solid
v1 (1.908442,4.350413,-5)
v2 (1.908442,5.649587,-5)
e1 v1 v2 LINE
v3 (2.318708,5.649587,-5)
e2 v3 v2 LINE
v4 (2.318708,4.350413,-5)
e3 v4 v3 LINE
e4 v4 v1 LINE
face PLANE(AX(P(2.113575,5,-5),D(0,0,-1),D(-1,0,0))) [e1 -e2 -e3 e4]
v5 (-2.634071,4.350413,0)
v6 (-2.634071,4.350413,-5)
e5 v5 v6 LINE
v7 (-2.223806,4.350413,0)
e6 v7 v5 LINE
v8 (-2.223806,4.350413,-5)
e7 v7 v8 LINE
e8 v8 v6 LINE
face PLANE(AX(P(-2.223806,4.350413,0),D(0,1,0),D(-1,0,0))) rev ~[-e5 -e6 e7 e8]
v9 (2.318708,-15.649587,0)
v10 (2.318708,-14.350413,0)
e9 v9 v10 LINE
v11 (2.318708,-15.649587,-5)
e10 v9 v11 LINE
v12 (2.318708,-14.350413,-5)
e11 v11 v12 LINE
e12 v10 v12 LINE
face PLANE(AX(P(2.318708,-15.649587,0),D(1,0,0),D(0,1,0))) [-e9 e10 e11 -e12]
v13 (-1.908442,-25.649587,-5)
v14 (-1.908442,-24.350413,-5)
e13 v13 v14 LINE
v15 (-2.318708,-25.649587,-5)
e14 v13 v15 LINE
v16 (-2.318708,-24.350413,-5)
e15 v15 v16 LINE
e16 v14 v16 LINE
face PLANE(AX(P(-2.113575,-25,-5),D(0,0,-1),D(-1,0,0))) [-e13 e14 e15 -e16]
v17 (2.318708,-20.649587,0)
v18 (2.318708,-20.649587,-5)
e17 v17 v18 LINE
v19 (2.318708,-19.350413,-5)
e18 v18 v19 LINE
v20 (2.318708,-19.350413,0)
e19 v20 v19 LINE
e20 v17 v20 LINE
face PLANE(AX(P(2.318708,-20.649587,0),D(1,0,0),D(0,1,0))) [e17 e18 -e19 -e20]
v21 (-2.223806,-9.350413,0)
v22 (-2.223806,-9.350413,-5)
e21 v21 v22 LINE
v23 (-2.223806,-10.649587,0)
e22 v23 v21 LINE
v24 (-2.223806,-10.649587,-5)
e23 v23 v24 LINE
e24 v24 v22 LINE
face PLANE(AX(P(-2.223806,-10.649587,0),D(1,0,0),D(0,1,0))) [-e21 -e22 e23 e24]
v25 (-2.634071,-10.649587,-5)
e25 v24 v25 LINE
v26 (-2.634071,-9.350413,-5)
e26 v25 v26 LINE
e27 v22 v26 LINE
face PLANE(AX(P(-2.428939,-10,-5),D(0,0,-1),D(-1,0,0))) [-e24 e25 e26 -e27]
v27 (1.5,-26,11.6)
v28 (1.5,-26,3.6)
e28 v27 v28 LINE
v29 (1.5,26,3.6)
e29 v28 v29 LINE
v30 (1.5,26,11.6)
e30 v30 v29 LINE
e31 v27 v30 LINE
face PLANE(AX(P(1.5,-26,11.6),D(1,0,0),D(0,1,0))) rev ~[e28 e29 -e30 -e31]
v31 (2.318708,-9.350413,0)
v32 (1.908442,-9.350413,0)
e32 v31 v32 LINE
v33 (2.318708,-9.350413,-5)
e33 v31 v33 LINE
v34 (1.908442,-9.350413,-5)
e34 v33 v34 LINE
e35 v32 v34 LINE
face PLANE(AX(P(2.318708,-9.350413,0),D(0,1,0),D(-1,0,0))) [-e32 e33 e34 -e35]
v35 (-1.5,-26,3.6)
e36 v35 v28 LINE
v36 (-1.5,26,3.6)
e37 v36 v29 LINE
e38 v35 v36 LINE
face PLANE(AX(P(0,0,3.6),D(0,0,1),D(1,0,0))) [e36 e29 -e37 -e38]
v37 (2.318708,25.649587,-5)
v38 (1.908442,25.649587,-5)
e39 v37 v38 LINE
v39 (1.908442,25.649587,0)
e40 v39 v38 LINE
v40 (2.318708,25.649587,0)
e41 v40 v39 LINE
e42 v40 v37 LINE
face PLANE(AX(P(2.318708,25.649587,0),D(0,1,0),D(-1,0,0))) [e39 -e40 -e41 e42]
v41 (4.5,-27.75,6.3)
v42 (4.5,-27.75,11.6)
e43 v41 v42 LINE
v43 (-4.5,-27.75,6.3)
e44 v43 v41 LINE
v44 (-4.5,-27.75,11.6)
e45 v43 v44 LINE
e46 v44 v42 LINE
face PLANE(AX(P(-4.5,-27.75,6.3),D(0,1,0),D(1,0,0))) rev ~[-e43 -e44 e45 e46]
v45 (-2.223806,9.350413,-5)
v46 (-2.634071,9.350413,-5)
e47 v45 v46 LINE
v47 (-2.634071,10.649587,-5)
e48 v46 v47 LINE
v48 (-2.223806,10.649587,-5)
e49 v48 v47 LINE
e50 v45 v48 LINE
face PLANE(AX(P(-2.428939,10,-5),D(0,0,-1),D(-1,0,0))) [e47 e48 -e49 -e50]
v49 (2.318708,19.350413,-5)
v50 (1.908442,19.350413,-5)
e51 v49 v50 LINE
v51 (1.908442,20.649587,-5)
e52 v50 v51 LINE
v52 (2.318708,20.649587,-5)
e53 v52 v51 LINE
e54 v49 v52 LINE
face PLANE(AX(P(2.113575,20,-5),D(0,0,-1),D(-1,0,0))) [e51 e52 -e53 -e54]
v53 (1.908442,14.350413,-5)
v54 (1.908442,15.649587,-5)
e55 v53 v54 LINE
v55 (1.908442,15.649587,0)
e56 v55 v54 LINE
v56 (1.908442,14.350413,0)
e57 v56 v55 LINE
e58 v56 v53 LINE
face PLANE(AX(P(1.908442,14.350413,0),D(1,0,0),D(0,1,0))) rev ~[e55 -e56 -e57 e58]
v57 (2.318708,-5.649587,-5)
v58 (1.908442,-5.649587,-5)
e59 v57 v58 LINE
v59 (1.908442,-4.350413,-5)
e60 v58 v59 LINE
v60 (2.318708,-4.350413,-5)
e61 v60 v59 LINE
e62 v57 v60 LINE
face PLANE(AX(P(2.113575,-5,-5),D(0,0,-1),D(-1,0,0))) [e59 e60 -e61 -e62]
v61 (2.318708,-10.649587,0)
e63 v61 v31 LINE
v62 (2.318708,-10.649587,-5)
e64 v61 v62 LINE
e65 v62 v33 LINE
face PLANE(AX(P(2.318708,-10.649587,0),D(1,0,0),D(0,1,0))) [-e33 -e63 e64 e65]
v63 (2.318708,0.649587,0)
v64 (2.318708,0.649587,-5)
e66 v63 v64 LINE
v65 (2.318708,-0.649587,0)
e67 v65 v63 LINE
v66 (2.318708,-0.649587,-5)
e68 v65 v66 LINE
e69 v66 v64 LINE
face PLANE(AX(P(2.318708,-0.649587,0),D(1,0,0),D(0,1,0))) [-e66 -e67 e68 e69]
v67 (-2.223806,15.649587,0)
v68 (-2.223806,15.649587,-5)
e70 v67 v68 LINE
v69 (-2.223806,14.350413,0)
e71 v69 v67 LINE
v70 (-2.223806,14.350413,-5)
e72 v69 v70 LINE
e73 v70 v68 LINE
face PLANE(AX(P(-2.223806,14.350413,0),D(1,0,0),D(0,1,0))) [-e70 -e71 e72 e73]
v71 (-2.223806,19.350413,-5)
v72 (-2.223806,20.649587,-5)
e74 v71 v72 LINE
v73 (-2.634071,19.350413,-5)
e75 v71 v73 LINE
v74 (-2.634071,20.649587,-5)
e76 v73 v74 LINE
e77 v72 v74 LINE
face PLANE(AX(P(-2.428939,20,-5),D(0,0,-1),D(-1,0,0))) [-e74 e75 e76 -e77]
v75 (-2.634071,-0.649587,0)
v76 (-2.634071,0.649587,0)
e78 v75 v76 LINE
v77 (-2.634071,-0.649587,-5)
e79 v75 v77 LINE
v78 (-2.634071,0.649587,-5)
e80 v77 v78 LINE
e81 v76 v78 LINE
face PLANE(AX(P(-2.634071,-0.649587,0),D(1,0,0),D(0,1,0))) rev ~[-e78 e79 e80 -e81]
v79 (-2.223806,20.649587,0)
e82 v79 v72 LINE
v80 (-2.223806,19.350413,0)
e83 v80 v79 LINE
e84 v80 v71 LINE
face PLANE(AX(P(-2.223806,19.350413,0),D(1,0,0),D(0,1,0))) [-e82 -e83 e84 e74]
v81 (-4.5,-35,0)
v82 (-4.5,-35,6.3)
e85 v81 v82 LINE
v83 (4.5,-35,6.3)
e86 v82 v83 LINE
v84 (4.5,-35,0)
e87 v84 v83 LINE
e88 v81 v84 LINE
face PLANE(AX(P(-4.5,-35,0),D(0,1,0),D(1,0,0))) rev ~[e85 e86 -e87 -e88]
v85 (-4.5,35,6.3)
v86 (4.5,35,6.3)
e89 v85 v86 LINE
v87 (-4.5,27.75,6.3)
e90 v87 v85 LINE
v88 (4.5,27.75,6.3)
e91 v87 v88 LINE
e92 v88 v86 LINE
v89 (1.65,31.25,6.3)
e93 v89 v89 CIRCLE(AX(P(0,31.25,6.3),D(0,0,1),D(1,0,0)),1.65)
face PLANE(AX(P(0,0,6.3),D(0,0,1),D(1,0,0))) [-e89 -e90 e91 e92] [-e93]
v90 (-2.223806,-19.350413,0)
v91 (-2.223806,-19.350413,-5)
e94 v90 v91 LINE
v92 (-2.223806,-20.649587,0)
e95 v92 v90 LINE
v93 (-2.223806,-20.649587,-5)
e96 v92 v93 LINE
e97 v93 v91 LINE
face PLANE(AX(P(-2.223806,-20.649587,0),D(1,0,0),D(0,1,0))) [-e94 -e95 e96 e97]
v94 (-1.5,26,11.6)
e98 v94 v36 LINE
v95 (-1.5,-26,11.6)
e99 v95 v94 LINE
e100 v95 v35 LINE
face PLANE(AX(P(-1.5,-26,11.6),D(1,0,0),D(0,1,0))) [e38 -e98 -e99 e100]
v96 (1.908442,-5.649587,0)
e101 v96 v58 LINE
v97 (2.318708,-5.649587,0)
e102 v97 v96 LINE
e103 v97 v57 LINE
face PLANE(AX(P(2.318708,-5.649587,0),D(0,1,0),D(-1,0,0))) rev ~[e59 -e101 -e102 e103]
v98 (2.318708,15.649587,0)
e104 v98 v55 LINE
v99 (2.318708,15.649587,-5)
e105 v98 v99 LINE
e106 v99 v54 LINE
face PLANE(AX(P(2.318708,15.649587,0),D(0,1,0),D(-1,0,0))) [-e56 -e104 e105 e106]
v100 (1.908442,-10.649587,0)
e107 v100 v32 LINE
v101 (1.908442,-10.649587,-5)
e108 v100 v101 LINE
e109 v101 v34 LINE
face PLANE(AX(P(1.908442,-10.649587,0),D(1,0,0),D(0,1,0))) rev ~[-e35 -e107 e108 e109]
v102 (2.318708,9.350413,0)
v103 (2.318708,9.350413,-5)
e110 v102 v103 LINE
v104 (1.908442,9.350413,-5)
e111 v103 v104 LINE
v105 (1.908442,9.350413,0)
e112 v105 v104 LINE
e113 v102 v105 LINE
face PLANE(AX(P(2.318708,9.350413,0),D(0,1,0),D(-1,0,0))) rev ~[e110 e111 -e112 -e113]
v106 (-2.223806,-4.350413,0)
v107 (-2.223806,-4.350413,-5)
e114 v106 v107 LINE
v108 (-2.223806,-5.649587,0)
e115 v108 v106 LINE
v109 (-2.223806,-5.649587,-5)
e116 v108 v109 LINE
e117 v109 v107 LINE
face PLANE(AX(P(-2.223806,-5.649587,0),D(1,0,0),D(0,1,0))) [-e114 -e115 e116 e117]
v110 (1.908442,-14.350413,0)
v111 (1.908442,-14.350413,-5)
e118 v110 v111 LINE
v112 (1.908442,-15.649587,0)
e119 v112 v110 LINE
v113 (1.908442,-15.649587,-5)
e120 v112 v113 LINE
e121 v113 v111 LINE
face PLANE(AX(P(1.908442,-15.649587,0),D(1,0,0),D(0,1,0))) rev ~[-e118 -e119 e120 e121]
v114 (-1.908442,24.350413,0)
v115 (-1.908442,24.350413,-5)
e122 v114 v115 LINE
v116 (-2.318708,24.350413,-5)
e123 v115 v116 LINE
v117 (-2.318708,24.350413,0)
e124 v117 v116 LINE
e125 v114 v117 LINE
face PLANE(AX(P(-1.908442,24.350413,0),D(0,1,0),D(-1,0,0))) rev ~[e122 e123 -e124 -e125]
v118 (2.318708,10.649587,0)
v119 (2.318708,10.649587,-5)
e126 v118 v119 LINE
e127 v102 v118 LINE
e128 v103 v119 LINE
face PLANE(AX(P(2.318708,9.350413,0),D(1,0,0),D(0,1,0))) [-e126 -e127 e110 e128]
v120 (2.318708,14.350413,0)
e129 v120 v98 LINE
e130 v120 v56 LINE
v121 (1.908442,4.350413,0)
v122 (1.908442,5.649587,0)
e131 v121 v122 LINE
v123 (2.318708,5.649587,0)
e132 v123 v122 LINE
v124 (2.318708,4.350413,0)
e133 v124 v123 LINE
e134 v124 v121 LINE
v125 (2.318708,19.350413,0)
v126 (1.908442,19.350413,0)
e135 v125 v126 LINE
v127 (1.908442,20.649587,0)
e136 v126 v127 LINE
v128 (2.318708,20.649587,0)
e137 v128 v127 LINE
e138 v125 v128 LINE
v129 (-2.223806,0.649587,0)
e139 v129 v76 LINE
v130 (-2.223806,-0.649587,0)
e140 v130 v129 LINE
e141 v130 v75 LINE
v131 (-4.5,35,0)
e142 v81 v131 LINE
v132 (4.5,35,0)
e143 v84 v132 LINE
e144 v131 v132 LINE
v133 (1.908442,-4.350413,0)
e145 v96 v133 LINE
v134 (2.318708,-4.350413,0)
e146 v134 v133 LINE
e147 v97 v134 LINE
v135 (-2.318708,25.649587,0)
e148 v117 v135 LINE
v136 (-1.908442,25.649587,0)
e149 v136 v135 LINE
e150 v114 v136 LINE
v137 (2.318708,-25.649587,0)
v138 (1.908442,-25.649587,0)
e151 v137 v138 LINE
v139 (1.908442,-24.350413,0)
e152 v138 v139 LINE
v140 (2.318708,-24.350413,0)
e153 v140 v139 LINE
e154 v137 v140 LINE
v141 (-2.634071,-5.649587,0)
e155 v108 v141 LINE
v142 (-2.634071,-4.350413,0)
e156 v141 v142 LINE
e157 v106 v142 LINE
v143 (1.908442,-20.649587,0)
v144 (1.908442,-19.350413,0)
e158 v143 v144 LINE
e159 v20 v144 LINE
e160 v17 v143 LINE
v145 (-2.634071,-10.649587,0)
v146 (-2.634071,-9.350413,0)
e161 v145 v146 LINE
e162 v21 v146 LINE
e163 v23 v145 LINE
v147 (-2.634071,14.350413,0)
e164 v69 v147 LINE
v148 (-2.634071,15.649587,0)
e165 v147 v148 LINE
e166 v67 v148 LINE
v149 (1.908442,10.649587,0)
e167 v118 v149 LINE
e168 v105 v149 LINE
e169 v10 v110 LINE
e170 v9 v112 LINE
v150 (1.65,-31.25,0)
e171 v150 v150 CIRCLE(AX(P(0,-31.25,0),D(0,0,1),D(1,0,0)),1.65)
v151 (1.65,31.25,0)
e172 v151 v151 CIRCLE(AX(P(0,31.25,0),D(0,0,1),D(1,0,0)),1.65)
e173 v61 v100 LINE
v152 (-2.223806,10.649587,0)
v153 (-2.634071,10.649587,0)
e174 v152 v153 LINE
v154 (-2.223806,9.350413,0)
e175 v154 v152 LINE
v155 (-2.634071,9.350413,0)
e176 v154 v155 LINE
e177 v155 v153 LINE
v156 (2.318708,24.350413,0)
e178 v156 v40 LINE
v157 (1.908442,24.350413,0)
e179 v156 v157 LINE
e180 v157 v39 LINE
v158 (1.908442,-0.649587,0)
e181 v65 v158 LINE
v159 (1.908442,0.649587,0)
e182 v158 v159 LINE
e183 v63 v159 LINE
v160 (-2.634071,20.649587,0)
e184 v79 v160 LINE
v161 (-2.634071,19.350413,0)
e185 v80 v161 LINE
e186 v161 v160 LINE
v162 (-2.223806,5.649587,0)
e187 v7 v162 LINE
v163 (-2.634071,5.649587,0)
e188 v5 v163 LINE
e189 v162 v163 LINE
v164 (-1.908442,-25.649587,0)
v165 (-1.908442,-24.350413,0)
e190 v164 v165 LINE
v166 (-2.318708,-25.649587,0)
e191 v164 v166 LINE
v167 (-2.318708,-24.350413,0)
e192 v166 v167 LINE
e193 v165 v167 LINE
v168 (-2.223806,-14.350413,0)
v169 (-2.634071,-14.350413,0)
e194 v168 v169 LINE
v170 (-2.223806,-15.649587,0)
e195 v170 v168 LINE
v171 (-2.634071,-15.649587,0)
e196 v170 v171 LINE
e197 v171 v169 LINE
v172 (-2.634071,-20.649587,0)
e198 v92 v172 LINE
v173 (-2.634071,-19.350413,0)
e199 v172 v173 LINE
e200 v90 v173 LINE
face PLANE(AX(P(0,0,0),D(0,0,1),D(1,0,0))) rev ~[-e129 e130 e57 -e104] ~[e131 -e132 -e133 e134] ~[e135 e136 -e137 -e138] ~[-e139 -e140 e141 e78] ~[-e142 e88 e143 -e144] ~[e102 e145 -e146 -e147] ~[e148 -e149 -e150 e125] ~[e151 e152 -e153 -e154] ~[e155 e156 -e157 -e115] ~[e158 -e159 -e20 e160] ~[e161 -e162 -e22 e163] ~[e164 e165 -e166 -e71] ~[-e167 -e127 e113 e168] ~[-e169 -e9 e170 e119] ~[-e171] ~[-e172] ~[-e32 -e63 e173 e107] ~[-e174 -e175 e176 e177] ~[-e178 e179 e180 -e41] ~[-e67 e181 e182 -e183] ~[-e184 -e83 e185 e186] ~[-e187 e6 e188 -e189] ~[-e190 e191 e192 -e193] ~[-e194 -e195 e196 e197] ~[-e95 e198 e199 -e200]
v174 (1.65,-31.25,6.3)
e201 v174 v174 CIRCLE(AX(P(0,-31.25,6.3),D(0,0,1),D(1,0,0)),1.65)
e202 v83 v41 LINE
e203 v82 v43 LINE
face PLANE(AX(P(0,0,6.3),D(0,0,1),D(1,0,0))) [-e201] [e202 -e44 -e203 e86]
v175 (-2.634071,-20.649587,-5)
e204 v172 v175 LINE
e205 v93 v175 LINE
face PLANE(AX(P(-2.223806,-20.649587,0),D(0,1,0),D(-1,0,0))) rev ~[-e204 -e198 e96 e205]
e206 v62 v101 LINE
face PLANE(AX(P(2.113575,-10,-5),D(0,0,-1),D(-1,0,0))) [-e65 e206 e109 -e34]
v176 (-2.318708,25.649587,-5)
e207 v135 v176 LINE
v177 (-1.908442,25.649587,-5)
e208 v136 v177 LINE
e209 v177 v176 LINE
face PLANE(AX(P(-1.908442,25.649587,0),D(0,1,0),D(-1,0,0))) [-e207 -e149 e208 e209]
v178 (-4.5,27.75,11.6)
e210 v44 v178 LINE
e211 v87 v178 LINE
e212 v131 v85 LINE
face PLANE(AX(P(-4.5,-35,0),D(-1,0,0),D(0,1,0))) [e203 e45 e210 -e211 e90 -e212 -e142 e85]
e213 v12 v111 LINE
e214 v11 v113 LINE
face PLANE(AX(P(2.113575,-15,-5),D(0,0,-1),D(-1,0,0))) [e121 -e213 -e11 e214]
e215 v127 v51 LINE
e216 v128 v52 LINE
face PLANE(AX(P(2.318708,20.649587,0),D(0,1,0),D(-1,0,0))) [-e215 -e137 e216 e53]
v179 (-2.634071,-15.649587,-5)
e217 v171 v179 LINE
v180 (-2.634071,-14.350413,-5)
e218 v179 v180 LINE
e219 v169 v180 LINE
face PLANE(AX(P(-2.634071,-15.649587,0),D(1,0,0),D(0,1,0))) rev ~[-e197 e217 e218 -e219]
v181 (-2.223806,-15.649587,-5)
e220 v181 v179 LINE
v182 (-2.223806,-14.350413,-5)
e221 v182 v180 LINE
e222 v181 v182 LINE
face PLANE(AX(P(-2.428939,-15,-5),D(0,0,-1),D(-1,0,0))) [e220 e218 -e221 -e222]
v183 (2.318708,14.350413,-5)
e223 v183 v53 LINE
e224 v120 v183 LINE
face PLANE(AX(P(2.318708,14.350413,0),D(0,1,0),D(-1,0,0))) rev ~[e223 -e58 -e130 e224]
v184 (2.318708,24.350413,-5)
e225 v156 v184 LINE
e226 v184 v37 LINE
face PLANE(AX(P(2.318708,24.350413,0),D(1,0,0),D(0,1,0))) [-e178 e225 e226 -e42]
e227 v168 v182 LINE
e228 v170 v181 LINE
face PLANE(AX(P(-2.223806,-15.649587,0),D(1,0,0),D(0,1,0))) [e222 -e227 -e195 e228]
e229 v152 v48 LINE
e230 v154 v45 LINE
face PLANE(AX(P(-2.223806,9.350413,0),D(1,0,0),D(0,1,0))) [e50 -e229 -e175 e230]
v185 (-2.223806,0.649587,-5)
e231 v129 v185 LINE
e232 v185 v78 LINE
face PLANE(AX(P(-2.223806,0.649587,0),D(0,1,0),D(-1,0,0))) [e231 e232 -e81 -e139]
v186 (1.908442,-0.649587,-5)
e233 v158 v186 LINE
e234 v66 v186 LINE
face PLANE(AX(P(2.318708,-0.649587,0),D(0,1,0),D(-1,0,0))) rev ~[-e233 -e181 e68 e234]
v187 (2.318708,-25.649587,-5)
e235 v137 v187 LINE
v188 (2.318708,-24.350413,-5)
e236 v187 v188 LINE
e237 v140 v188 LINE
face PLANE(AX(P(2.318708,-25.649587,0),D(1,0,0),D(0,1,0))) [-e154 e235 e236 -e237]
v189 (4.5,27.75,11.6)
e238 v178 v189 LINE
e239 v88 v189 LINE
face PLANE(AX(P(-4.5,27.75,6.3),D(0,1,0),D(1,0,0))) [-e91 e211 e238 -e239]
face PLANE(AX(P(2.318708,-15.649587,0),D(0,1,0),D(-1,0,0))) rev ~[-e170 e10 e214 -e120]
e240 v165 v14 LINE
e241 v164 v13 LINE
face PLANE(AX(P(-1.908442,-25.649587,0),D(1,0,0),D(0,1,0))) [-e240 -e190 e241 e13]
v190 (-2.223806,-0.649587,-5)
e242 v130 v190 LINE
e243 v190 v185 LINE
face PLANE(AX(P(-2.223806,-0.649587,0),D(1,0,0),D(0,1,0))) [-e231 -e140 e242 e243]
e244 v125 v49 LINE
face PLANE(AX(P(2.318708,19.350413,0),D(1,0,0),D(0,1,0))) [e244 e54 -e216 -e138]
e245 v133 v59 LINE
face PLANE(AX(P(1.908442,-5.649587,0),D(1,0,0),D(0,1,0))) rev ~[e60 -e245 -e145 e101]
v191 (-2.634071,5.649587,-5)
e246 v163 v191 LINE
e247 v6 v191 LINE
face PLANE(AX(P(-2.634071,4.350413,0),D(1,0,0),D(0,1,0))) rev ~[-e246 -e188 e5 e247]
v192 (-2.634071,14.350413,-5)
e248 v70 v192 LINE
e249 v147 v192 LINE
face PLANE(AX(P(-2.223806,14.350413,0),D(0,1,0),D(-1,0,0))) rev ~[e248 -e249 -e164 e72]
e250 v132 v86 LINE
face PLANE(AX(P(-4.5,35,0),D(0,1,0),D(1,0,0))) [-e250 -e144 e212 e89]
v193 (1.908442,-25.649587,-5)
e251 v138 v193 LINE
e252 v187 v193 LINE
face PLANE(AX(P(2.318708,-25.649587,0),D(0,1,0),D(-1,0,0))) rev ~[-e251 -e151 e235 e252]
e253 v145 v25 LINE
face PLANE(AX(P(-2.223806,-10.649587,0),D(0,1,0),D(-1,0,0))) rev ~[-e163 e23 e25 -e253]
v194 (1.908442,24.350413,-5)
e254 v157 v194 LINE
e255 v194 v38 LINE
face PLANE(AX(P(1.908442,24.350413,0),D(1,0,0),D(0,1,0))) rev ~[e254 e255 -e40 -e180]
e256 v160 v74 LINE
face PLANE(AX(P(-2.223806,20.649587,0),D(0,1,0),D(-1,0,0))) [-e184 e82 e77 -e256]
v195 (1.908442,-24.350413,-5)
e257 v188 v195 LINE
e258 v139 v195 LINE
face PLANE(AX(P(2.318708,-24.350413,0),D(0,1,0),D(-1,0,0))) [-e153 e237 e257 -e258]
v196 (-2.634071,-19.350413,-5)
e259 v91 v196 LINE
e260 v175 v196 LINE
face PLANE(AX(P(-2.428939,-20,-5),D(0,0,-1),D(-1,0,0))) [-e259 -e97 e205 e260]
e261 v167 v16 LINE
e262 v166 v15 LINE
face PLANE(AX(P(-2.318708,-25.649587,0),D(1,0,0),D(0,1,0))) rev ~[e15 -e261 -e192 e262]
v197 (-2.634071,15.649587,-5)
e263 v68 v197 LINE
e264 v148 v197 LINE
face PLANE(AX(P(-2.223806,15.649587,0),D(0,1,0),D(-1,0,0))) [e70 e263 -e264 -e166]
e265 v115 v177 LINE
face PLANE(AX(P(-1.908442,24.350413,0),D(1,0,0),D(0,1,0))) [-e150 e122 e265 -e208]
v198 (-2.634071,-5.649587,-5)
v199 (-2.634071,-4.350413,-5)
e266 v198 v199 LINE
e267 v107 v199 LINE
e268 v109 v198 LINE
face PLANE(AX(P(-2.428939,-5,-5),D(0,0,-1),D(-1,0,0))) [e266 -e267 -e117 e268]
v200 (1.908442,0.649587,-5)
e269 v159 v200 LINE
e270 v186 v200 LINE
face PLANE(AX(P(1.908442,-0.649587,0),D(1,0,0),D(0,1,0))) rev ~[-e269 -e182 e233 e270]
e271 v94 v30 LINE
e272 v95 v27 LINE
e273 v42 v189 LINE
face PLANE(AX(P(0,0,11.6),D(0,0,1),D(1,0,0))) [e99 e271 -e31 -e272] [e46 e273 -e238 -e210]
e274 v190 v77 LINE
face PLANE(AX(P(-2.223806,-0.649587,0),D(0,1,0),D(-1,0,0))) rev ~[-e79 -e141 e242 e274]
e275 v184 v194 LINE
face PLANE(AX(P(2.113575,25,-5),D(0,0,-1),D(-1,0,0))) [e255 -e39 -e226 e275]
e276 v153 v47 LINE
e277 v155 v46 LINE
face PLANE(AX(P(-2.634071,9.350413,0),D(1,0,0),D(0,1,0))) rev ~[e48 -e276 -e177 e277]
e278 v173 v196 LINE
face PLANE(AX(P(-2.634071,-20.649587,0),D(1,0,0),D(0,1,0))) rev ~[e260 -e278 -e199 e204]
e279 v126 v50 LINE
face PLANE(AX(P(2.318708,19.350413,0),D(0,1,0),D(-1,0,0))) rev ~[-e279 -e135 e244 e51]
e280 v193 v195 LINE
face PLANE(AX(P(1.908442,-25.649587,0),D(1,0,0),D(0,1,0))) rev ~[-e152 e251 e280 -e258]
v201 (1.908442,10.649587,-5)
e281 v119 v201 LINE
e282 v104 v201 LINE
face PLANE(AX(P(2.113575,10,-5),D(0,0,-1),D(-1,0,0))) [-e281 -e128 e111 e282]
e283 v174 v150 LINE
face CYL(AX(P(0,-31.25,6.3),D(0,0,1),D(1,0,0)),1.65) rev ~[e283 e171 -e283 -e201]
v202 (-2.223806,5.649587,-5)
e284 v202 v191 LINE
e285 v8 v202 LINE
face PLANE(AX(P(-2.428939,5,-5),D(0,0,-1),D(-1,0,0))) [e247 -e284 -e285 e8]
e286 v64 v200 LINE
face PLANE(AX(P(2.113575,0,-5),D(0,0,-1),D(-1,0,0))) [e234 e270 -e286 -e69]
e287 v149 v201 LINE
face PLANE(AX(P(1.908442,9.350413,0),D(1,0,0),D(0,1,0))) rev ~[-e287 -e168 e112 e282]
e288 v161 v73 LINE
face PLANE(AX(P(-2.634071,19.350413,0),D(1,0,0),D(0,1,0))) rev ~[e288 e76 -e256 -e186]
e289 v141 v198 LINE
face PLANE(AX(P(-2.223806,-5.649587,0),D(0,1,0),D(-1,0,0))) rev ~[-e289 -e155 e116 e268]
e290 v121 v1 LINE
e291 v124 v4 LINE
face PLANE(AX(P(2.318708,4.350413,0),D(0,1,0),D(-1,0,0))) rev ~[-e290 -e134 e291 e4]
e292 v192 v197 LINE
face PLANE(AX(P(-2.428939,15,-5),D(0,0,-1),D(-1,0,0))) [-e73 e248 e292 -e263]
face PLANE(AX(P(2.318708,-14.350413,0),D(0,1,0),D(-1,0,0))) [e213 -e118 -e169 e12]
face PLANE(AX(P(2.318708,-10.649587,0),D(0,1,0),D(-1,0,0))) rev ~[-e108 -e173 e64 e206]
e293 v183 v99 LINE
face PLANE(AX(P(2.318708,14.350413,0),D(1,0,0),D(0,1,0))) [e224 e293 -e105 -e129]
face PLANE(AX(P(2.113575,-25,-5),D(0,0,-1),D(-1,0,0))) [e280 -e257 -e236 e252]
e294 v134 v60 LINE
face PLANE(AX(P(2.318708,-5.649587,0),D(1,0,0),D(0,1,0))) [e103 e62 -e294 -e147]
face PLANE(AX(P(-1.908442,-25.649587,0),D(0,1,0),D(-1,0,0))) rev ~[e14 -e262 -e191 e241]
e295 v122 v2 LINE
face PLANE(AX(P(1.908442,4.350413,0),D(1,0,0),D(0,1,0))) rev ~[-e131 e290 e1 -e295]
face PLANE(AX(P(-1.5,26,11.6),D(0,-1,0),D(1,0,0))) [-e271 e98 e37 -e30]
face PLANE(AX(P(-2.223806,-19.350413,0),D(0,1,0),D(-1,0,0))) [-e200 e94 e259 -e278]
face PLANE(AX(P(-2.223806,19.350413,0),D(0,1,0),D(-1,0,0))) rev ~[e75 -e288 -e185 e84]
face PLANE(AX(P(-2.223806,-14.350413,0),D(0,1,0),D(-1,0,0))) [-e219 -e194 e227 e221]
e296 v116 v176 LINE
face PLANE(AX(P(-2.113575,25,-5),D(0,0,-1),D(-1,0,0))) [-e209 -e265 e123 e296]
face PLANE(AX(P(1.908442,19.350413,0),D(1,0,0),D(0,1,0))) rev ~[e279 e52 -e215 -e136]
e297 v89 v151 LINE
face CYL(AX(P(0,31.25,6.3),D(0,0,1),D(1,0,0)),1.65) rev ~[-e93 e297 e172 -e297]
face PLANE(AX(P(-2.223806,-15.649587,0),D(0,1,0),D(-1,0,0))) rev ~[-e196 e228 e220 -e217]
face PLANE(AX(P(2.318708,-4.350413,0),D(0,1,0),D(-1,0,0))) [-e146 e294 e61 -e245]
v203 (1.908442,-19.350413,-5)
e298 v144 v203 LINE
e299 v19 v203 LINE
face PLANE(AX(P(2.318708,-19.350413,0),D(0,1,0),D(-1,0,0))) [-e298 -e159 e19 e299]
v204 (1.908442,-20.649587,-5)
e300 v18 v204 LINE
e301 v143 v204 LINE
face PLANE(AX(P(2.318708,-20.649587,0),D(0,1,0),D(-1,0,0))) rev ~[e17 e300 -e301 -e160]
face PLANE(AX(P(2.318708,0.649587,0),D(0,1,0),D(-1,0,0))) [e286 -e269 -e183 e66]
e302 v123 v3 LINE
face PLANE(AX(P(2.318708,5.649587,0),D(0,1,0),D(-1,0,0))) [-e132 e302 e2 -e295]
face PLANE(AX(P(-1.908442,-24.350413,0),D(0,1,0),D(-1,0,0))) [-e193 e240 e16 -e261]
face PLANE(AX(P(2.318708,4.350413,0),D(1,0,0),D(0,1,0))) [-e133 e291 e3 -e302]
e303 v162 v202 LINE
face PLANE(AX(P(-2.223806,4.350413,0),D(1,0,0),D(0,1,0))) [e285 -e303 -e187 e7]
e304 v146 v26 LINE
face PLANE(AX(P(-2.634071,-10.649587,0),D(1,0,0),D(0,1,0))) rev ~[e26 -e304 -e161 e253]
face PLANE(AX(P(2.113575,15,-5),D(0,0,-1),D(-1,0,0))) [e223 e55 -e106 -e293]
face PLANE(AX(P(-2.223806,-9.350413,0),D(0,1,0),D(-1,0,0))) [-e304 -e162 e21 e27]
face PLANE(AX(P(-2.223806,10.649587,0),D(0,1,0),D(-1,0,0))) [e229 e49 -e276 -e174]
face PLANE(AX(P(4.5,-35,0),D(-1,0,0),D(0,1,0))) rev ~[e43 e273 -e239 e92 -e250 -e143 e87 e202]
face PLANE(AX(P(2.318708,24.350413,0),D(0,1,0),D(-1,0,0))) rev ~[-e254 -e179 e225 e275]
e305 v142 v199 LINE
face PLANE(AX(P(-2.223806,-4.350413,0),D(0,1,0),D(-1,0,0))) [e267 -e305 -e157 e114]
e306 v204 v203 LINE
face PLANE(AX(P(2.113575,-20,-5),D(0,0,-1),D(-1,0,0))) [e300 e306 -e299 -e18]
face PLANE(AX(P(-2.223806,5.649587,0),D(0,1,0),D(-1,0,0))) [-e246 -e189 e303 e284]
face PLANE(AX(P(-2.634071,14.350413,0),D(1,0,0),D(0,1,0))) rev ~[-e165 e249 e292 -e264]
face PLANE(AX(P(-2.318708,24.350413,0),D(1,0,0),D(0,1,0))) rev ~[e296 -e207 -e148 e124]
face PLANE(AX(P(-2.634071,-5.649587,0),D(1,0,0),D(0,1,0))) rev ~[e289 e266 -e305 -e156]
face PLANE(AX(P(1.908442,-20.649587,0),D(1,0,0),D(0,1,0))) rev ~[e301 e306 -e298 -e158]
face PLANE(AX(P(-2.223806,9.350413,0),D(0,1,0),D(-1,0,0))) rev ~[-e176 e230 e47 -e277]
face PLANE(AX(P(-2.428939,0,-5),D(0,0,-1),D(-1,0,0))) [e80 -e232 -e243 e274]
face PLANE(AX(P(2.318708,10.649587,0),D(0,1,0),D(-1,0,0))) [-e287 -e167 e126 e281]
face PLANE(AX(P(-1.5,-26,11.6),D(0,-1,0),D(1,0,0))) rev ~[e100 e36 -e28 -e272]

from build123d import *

# Parameters (mm, degrees)
SKETCH_1_W          = 9
SKETCH_1_H          = 70
EXTRUDE_1_DEPTH     = 6.3
SKETCH_2_W          = 9
SKETCH_2_H          = 55.5
EXTRUDE_2_DEPTH     = 5.3
SKETCH_3_R          = 1.65
CUT_EXTRUDE_1_DEPTH = 15.3
SKETCH_4_W          = 0.410265385
SKETCH_4_H          = 1.299173718
EXTRUDE_3_DEPTH     = 5
SKETCH_5_W          = 3
SKETCH_5_H          = 52
CUT_EXTRUDE_2_DEPTH = 8


with BuildPart() as part:
    # 草图1 → 拉伸1 (new body)
    with BuildSketch(Plane.XY):
        Rectangle(SKETCH_1_W, SKETCH_1_H)
    extrude(amount=EXTRUDE_1_DEPTH)

    # 草图2 → 拉伸2 (add)
    with BuildSketch(Plane.XY.offset(6.3)):
        Rectangle(SKETCH_2_W, SKETCH_2_H)
    extrude(amount=EXTRUDE_2_DEPTH)

    # 草图3 → 切除-拉伸1 (cut)
    with BuildSketch(Plane.XY.offset(6.3)):
        with Locations((0, 31.25)):
            Circle(SKETCH_3_R)
        with Locations((0, -31.25)):
            Circle(SKETCH_3_R)
    extrude(amount=-CUT_EXTRUDE_1_DEPTH, mode=Mode.SUBTRACT)

    # 草图4 → 拉伸3 (add)
    with BuildSketch(Plane(origin=(0, 0, 0), x_dir=(-1, 0, 0), z_dir=(0, 0, -1))):
        with Locations((2.113574837, 25)):
            Rectangle(SKETCH_4_W, SKETCH_4_H)
        with Locations((-2.113574837, 25)):
            Rectangle(SKETCH_4_W, SKETCH_4_H)
        with Locations((2.428938656, 20)):
            Rectangle(SKETCH_4_W, SKETCH_4_H)
        with Locations((-2.113574837, 20)):
            Rectangle(SKETCH_4_W, SKETCH_4_H)
        with Locations((2.428938656, 15)):
            Rectangle(SKETCH_4_W, SKETCH_4_H)
        with Locations((-2.113574837, 15)):
            Rectangle(SKETCH_4_W, SKETCH_4_H)
        with Locations((2.428938656, 10)):
            Rectangle(SKETCH_4_W, SKETCH_4_H)
        with Locations((-2.113574837, 10)):
            Rectangle(SKETCH_4_W, SKETCH_4_H)
        with Locations((2.428938656, 5)):
            Rectangle(SKETCH_4_W, SKETCH_4_H)
        with Locations((-2.113574837, 5)):
            Rectangle(SKETCH_4_W, SKETCH_4_H)
        with Locations((2.428938656, 0)):
            Rectangle(SKETCH_4_W, SKETCH_4_H)
        with Locations((-2.113574837, 0)):
            Rectangle(SKETCH_4_W, SKETCH_4_H)
        with Locations((-2.113574837, -5)):
            Rectangle(SKETCH_4_W, SKETCH_4_H)
        with Locations((2.428938656, -5)):
            Rectangle(SKETCH_4_W, SKETCH_4_H)
        with Locations((-2.113574837, -10)):
            Rectangle(SKETCH_4_W, SKETCH_4_H)
        with Locations((2.428938656, -10)):
            Rectangle(SKETCH_4_W, SKETCH_4_H)
        with Locations((-2.113574837, -15)):
            Rectangle(SKETCH_4_W, SKETCH_4_H)
        with Locations((2.428938656, -15)):
            Rectangle(SKETCH_4_W, SKETCH_4_H)
        with Locations((-2.113574837, -20)):
            Rectangle(SKETCH_4_W, SKETCH_4_H)
        with Locations((2.428938656, -20)):
            Rectangle(SKETCH_4_W, SKETCH_4_H)
        with Locations((2.113574837, -25)):
            Rectangle(SKETCH_4_W, SKETCH_4_H)
        with Locations((-2.113574837, -25)):
            Rectangle(SKETCH_4_W, SKETCH_4_H)
    extrude(amount=EXTRUDE_3_DEPTH)

    # 草图5 → 切除-拉伸2 (cut)
    with BuildSketch(Plane.XY.offset(11.6)):
        Rectangle(SKETCH_5_W, SKETCH_5_H)
    extrude(amount=-CUT_EXTRUDE_2_DEPTH, mode=Mode.SUBTRACT)


solid = part.part
